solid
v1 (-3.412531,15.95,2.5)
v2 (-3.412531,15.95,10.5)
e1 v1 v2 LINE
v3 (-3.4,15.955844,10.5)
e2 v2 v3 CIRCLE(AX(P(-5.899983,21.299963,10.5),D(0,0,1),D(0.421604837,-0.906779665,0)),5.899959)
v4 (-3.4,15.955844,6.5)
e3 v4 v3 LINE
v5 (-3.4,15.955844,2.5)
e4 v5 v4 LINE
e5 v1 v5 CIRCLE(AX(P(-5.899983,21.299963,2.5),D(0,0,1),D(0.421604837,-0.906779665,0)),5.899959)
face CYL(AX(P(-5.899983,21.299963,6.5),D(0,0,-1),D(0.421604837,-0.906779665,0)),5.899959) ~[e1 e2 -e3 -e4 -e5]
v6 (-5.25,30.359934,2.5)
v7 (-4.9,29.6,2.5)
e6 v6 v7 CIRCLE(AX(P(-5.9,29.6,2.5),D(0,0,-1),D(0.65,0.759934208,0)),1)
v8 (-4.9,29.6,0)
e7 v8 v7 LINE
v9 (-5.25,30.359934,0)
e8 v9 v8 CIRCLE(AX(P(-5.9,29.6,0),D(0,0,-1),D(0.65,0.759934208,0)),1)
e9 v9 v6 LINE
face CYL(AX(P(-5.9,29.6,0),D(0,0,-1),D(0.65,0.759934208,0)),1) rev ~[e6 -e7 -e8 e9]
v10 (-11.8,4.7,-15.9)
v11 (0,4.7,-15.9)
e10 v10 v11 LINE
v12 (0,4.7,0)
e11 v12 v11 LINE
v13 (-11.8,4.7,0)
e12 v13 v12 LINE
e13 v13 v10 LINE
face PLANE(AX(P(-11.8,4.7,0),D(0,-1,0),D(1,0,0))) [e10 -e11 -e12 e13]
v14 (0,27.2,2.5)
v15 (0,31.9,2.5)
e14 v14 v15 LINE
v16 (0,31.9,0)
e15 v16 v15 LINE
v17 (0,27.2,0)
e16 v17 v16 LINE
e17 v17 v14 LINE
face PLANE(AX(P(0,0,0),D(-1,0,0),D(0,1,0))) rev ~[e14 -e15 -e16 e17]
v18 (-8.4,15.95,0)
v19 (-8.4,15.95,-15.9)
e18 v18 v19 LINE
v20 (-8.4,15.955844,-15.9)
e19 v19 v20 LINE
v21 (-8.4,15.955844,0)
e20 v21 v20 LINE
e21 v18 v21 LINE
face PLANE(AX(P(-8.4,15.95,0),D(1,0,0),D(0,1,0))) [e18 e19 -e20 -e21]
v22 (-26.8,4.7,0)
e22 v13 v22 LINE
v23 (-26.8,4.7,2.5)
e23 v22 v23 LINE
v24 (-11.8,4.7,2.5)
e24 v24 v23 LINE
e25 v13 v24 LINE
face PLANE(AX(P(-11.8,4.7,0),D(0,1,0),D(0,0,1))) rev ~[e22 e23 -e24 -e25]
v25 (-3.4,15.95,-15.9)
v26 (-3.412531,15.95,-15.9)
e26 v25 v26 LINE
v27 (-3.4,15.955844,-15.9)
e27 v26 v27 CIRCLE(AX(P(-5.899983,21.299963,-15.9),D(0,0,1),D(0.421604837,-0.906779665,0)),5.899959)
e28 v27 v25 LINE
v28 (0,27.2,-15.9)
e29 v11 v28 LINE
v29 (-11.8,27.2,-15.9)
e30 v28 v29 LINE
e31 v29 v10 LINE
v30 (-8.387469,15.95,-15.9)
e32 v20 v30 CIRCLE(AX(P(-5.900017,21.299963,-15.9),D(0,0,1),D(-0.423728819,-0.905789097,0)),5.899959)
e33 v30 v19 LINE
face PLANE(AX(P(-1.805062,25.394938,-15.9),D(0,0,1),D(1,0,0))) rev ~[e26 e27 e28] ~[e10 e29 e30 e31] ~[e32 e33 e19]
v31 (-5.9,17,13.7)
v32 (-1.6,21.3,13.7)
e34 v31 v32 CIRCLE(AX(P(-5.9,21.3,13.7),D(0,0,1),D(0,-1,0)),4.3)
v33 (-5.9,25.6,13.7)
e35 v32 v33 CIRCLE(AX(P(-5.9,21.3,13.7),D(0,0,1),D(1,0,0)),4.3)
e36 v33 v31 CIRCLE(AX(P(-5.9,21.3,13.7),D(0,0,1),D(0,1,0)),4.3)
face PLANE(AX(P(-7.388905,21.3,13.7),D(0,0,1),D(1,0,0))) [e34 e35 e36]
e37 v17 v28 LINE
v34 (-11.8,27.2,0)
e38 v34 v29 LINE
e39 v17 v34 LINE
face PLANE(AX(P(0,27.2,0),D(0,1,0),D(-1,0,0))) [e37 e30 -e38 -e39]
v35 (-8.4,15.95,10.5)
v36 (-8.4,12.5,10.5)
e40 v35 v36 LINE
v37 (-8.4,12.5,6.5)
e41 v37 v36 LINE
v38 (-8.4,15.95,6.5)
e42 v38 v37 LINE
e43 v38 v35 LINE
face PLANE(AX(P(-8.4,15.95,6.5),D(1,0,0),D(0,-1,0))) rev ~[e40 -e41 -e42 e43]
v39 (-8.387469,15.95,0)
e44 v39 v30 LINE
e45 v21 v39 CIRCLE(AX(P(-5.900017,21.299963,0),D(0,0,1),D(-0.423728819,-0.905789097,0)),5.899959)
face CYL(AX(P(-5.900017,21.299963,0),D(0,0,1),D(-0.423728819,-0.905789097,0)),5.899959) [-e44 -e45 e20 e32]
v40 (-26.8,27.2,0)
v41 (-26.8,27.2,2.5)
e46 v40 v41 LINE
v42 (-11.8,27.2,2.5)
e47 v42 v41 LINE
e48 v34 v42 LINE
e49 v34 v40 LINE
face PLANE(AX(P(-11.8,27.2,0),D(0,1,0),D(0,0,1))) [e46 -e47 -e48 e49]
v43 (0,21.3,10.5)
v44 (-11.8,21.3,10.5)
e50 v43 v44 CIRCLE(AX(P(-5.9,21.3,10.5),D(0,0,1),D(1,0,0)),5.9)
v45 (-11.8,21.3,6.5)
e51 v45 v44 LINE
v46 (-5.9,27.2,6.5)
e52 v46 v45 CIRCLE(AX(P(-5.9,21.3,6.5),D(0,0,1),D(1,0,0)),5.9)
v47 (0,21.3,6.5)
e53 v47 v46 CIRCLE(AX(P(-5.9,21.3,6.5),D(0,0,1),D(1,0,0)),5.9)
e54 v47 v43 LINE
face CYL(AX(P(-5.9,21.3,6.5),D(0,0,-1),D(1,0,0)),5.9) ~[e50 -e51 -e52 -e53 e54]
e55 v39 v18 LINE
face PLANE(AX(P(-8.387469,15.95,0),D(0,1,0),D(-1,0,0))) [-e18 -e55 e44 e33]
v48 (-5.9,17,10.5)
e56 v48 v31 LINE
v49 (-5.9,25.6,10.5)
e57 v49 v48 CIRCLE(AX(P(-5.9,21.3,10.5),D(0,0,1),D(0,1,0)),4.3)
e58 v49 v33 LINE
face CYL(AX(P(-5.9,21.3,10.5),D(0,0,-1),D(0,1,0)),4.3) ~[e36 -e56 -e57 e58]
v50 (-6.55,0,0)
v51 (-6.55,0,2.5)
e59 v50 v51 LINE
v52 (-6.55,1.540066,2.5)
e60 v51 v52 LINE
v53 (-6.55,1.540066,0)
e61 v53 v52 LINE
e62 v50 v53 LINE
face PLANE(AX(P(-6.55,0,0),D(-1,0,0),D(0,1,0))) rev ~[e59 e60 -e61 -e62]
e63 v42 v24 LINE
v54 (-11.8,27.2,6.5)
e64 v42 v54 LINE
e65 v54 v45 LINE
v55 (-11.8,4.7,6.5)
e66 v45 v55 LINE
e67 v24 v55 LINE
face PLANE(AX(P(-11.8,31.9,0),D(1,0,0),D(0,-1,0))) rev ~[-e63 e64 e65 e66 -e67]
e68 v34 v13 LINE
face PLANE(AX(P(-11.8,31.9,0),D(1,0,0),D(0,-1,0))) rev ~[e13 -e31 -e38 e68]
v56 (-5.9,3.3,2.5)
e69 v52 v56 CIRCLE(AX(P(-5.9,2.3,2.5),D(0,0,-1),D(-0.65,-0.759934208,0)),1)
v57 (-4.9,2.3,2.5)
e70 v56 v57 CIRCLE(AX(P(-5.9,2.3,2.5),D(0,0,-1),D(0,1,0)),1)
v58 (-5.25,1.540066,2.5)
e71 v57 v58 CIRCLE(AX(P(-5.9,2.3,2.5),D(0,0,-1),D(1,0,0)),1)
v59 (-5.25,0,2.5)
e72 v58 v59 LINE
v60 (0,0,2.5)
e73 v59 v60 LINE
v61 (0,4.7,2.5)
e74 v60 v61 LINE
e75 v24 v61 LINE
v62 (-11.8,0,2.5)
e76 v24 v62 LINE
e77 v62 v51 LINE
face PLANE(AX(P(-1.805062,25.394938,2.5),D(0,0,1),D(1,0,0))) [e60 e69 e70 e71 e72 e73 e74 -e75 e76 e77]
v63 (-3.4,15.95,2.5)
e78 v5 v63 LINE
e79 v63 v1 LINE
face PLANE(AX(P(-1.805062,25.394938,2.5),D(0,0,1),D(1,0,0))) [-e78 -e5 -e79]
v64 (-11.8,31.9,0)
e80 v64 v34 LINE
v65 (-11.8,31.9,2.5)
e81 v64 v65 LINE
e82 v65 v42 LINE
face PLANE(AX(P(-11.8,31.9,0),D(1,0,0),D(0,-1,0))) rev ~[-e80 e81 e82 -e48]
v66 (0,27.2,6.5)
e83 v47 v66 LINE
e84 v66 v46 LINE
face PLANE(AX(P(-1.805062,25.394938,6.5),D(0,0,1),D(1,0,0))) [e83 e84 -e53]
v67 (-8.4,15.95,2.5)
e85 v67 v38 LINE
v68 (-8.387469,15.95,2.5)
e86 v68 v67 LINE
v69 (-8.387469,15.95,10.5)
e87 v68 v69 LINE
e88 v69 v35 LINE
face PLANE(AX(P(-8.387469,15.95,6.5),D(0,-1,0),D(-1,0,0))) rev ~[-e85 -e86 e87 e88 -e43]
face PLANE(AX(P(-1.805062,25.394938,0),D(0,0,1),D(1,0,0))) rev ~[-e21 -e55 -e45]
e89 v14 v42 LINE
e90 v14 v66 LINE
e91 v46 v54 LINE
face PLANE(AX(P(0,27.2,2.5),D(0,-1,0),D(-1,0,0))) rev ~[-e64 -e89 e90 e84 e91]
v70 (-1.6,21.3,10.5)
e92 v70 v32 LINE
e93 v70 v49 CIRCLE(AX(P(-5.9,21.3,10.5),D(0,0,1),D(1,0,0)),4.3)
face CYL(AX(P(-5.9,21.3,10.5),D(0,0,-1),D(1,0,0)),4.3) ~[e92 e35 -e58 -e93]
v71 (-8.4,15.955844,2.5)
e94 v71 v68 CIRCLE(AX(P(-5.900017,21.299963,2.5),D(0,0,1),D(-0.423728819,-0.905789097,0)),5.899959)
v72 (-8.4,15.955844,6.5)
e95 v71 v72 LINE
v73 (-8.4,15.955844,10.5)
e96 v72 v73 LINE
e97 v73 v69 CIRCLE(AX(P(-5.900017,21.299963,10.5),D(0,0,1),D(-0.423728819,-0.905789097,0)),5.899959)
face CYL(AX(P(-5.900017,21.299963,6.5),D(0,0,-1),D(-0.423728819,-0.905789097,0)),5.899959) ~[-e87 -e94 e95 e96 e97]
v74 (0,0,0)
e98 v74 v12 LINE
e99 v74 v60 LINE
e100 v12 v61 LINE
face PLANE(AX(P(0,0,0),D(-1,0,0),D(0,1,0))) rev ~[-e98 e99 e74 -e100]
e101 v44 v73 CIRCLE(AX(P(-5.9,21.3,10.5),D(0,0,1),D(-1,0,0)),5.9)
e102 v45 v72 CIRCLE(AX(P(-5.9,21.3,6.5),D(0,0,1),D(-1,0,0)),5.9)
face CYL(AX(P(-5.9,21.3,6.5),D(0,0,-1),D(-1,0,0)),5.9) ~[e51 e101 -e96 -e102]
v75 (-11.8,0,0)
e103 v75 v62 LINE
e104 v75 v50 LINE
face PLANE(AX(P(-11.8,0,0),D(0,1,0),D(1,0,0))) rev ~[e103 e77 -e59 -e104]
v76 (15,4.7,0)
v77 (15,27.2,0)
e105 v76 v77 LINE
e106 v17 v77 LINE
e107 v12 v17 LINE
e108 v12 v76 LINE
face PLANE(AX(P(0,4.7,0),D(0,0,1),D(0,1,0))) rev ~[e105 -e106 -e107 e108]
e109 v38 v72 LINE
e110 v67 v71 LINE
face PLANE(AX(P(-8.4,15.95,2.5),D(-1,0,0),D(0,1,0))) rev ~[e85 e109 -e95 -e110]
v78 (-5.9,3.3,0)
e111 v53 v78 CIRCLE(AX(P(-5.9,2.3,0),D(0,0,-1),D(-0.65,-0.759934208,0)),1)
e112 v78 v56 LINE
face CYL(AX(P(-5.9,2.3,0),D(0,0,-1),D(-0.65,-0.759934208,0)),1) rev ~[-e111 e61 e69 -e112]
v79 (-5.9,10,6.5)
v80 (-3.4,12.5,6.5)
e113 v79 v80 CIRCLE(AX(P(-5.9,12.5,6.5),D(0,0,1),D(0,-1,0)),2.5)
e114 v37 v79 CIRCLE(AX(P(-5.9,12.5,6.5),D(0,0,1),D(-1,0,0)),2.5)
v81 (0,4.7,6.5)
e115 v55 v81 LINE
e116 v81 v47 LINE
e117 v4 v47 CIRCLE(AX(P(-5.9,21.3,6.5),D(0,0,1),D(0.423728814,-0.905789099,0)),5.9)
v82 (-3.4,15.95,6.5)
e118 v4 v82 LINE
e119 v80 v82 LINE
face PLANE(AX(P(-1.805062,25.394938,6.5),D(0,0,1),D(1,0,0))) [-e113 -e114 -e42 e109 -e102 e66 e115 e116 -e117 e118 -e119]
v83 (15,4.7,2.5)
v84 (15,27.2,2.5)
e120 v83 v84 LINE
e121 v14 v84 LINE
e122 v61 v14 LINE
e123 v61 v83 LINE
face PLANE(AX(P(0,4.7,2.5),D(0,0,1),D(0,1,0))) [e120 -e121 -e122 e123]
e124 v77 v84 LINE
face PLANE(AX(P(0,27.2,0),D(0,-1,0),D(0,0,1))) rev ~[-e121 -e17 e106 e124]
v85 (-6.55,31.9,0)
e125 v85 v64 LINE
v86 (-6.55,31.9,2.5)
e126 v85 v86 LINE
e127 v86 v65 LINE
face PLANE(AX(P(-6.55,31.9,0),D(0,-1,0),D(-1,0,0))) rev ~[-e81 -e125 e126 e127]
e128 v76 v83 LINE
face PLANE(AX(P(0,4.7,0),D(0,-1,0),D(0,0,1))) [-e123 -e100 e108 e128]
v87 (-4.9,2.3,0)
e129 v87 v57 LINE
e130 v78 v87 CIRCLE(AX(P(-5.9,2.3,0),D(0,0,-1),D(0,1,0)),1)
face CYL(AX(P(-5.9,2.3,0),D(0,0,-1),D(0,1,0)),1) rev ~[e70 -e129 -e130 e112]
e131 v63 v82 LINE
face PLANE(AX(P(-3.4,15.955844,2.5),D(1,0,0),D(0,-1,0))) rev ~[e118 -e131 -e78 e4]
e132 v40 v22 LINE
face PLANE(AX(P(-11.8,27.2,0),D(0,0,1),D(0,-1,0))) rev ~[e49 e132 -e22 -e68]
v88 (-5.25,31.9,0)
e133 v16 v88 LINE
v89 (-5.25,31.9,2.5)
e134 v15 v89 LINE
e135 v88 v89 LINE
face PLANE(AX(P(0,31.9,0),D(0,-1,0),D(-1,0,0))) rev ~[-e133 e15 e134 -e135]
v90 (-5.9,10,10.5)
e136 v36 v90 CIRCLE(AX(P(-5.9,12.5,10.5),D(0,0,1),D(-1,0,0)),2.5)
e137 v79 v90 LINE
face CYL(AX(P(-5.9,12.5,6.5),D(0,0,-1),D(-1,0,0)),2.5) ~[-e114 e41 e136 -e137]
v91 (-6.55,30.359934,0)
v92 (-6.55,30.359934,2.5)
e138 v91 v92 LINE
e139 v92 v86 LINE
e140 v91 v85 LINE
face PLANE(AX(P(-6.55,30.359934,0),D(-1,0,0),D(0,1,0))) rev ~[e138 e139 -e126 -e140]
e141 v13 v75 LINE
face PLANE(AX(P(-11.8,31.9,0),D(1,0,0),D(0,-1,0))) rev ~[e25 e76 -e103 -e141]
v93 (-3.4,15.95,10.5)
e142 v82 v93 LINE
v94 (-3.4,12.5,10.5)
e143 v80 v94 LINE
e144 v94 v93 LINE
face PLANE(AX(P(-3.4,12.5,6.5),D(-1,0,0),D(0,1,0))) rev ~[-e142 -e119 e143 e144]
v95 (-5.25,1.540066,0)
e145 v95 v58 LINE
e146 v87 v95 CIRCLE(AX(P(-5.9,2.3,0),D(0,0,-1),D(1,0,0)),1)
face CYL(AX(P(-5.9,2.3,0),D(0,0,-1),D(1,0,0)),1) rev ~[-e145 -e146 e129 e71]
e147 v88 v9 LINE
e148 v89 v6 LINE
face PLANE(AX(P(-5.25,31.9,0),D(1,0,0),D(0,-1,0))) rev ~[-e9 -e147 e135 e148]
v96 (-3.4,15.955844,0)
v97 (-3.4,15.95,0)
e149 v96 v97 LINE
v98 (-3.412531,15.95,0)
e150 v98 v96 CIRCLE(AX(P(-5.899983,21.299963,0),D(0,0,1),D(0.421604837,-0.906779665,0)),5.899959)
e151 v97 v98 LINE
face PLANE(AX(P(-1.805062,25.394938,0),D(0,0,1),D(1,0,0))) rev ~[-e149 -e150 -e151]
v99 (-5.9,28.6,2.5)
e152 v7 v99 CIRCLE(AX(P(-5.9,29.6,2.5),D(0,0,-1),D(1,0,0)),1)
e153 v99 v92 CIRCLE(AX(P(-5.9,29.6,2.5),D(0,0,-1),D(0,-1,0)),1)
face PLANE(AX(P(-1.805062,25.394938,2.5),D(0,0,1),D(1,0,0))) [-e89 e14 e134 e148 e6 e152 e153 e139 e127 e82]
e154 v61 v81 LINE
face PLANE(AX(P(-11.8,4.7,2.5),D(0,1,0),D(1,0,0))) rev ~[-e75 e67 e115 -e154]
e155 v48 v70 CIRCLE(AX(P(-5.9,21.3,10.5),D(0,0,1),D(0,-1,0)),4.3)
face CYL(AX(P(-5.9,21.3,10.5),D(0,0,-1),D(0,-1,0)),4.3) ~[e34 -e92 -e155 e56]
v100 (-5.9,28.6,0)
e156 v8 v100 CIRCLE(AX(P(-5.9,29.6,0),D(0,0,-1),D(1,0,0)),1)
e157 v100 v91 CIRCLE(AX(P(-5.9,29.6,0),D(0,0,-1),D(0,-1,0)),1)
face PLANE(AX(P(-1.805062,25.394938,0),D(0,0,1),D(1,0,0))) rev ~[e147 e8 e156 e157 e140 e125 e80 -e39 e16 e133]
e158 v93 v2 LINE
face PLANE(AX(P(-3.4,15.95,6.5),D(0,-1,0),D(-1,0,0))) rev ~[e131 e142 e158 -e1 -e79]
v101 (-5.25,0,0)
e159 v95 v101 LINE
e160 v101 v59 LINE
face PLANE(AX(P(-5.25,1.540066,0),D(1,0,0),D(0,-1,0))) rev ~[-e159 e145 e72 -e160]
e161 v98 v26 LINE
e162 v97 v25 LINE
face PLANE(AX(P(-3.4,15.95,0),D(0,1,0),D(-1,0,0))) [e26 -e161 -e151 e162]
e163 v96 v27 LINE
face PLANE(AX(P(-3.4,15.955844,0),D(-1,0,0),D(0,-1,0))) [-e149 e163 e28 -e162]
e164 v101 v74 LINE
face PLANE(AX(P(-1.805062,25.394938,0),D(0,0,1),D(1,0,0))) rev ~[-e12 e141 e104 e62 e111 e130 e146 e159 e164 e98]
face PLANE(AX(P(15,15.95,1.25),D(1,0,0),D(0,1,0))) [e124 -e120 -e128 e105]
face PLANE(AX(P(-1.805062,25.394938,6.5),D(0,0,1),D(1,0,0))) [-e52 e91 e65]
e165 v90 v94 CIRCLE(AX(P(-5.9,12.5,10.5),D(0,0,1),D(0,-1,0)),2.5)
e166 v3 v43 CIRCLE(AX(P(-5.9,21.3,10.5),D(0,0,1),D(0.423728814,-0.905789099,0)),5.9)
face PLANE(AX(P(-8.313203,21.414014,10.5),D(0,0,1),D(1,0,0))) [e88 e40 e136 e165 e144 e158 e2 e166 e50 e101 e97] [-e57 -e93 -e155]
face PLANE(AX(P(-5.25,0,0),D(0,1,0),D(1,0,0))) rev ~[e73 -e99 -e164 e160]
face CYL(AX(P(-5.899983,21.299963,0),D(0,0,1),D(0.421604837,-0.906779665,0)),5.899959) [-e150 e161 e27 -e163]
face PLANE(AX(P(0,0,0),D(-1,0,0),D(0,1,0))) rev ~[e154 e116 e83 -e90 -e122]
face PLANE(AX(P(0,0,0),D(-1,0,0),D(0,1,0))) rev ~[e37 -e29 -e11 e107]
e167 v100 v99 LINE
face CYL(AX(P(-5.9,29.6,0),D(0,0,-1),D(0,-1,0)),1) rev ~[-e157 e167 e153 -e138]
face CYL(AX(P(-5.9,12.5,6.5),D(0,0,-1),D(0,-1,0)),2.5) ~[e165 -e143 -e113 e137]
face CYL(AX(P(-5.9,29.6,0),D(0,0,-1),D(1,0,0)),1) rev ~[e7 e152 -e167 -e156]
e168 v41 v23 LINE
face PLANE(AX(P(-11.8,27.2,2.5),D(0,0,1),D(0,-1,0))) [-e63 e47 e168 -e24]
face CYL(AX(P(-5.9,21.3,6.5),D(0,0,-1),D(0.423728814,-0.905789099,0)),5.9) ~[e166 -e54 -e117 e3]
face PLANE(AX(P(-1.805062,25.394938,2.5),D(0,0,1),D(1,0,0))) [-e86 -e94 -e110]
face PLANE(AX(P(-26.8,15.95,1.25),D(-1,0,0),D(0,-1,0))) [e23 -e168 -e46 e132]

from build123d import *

# Parameters (mm, degrees)
F1_DEPTH  = 15.9
F2_DEPTH  = 2.5
F5_DEPTH  = 4
F8_DEPTH  = 4
F11_DEPTH = 3.2
F12_W     = 22.5
F12_H     = 2.5
F13_DEPTH = 15
F14_W     = 22.5
F14_H     = 2.5
F15_DEPTH = 15


with BuildPart() as f1:
    # F0 (on Top) → F1 (new body)
    with BuildSketch(Plane.XY):
        with BuildLine():
            ThreePointArc((-5.9, 27.2), (-1.728069991, 25.471930009), (0, 21.3))
            Line((0, 21.3), (0, 27.2))
            Line((0, 27.2), (-5.9, 27.2))
        make_face()
        with BuildLine():
            ThreePointArc((-11.8, 21.3), (-10.071930009, 25.471930009), (-5.9, 27.2))
            Line((-5.9, 27.2), (-11.8, 27.2))
            Line((-11.8, 27.2), (-11.8, 21.3))
        make_face()
        with BuildLine():
            Line((-3.4, 15.95), (0, 15.95))
            Line((0, 15.95), (0, 21.3))
            ThreePointArc((0, 21.3), (-0.9220486141, 18.1329824756), (-3.4, 15.9558443136))
            Line((-3.4, 15.9558443136), (-3.4, 15.95))
        make_face()
        with BuildLine():
            Line((-11.8, 21.3), (-11.8, 15.95))
            Line((-11.8, 15.95), (-8.4, 15.95))
            Line((-8.4, 15.95), (-8.4, 15.9558443136))
            ThreePointArc((-8.4, 15.9558443136), (-10.8779513859, 18.1329824756), (-11.8, 21.3))
        make_face()
        with BuildLine():
            Line((-5.9, 4.7), (0, 4.7))
            Line((0, 4.7), (0, 15.95))
            Line((0, 15.95), (-3.4, 15.95))
            Line((-3.4, 15.95), (-3.4, 12.5))
            ThreePointArc((-3.4, 12.5), (-4.132233047, 10.732233047), (-5.9, 10))
            Line((-5.9, 10), (-5.9, 4.7))
        make_face()
        with BuildLine():
            Line((-11.8, 4.7), (-5.9, 4.7))
            Line((-5.9, 4.7), (-5.9, 10))
            ThreePointArc((-5.9, 10), (-7.667766953, 10.732233047), (-8.4, 12.5))
            Line((-8.4, 12.5), (-8.4, 15.95))
            Line((-8.4, 15.95), (-11.8, 15.95))
            Line((-11.8, 15.95), (-11.8, 4.7))
        make_face()
        with BuildLine():
            ThreePointArc((-3.4, 15.9558443136), (-0.9220486141, 18.1329824756), (0, 21.3))
            ThreePointArc((0, 21.3), (-1.728069991, 25.471930009), (-5.9, 27.2))
            Line((-5.9, 27.2), (-5.9, 23.6))
            ThreePointArc((-5.9, 23.6), (-4.2736544033, 22.9263455967), (-3.6, 21.3))
            ThreePointArc((-3.6, 21.3), (-4.2736544033, 19.6736544033), (-5.9, 19))
            Line((-5.9, 19), (-5.9, 15.95))
            Line((-5.9, 15.95), (-3.4125314072, 15.95))
            ThreePointArc((-3.4125314072, 15.95), (-3.4062639915, 15.9529184857), (-3.4, 15.9558443136))
        make_face()
        with BuildLine():
            ThreePointArc((-3.6, 21.3), (-4.2736544033, 22.9263455967), (-5.9, 23.6))
            Line((-5.9, 23.6), (-5.9, 22.15))
            ThreePointArc((-5.9, 22.15), (-5.298959236, 21.901040764), (-5.05, 21.3))
            ThreePointArc((-5.05, 21.3), (-5.298959236, 20.698959236), (-5.9, 20.45))
            Line((-5.9, 20.45), (-5.9, 19))
            ThreePointArc((-5.9, 19), (-4.2736544033, 19.6736544033), (-3.6, 21.3))
        make_face()
        with BuildLine():
            Line((-5.9, 22.15), (-5.9, 23.6))
            ThreePointArc((-5.9, 23.6), (-8.2, 21.3), (-5.9, 19))
            Line((-5.9, 19), (-5.9, 20.45))
            ThreePointArc((-5.9, 20.45), (-6.75, 21.3), (-5.9, 22.15))
        make_face()
        with BuildLine():
            ThreePointArc((-5.05, 21.3), (-5.298959236, 21.901040764), (-5.9, 22.15))
            Line((-5.9, 22.15), (-5.9, 20.45))
            ThreePointArc((-5.9, 20.45), (-5.298959236, 20.698959236), (-5.05, 21.3))
        make_face()
        with BuildLine():
            Line((-5.9, 20.45), (-5.9, 22.15))
            ThreePointArc((-5.9, 22.15), (-6.75, 21.3), (-5.9, 20.45))
        make_face()
        with BuildLine():
            ThreePointArc((-8.4, 12.5), (-7.667766953, 10.732233047), (-5.9, 10))
            Line((-5.9, 10), (-5.9, 15))
            ThreePointArc((-5.9, 15), (-7.667766953, 14.267766953), (-8.4, 12.5))
        make_face()
        with BuildLine():
            Line((-5.9, 15), (-5.9, 10))
            ThreePointArc((-5.9, 10), (-4.132233047, 10.732233047), (-3.4, 12.5))
            ThreePointArc((-3.4, 12.5), (-4.132233047, 14.267766953), (-5.9, 15))
        make_face()
        with BuildLine():
            Line((-3.4, 12.5), (-3.4, 15.95))
            Line((-3.4, 15.95), (-3.4125314072, 15.95))
            ThreePointArc((-3.4125314072, 15.95), (-4.6262260797, 15.5391406891), (-5.9, 15.4))
            Line((-5.9, 15.4), (-5.9, 15))
            ThreePointArc((-5.9, 15), (-4.132233047, 14.267766953), (-3.4, 12.5))
        make_face()
        with BuildLine():
            ThreePointArc((-5.9, 15.4), (-4.6262260797, 15.5391406891), (-3.4125314072, 15.95))
            Line((-3.4125314072, 15.95), (-5.9, 15.95))
            Line((-5.9, 15.95), (-5.9, 15.4))
        make_face()
        with BuildLine():
            ThreePointArc((-8.4, 12.5), (-7.667766953, 14.267766953), (-5.9, 15))
            Line((-5.9, 15), (-5.9, 15.4))
            ThreePointArc((-5.9, 15.4), (-7.1737739203, 15.5391406891), (-8.3874685928, 15.95))
            Line((-8.3874685928, 15.95), (-8.4, 15.95))
            Line((-8.4, 15.95), (-8.4, 12.5))
        make_face()
        with BuildLine():
            Line((-5.9, 23.6), (-5.9, 27.2))
            ThreePointArc((-5.9, 27.2), (-10.071930009, 25.471930009), (-11.8, 21.3))
            ThreePointArc((-11.8, 21.3), (-10.8779513859, 18.1329824756), (-8.4, 15.9558443136))
            ThreePointArc((-8.4, 15.9558443136), (-8.3937360085, 15.9529184857), (-8.3874685928, 15.95))
            Line((-8.3874685928, 15.95), (-5.9, 15.95))
            Line((-5.9, 15.95), (-5.9, 19))
            ThreePointArc((-5.9, 19), (-8.2, 21.3), (-5.9, 23.6))
        make_face()
        with BuildLine():
            ThreePointArc((-8.3874685928, 15.95), (-7.1737739203, 15.5391406891), (-5.9, 15.4))
            Line((-5.9, 15.4), (-5.9, 15.95))
            Line((-5.9, 15.95), (-8.3874685928, 15.95))
        make_face()
    extrude(amount=-F1_DEPTH)

    # F0 (on Top) → F2 (join)
    with BuildSketch(Plane.XY):
        with BuildLine():
            ThreePointArc((-5.9, 27.2), (-1.728069991, 25.471930009), (0, 21.3))
            Line((0, 21.3), (0, 27.2))
            Line((0, 27.2), (-5.9, 27.2))
        make_face()
        with BuildLine():
            ThreePointArc((-11.8, 21.3), (-10.071930009, 25.471930009), (-5.9, 27.2))
            Line((-5.9, 27.2), (-11.8, 27.2))
            Line((-11.8, 27.2), (-11.8, 21.3))
        make_face()
        with BuildLine():
            Line((-3.4, 15.95), (0, 15.95))
            Line((0, 15.95), (0, 21.3))
            ThreePointArc((0, 21.3), (-0.9220486141, 18.1329824756), (-3.4, 15.9558443136))
            Line((-3.4, 15.9558443136), (-3.4, 15.95))
        make_face()
        with BuildLine():
            Line((-11.8, 21.3), (-11.8, 15.95))
            Line((-11.8, 15.95), (-8.4, 15.95))
            Line((-8.4, 15.95), (-8.4, 15.9558443136))
            ThreePointArc((-8.4, 15.9558443136), (-10.8779513859, 18.1329824756), (-11.8, 21.3))
        make_face()
        with BuildLine():
            Line((-5.25, 0), (0, 0))
            Line((0, 0), (0, 4.7))
            Line((0, 4.7), (-5.9, 4.7))
            Line((-5.9, 4.7), (-5.9, 3.3))
            ThreePointArc((-5.9, 3.3), (-5.1928932188, 3.0071067812), (-4.9, 2.3))
            ThreePointArc((-4.9, 2.3), (-4.9917048938, 1.8816699867), (-5.25, 1.5400657923))
            Line((-5.25, 1.5400657923), (-5.25, 0))
        make_face()
        with BuildLine():
            Line((-5.9, 3.3), (-5.9, 4.7))
            Line((-5.9, 4.7), (-11.8, 4.7))
            Line((-11.8, 4.7), (-11.8, 0))
            Line((-11.8, 0), (-6.55, 0))
            Line((-6.55, 0), (-6.55, 1.5400657923))
            ThreePointArc((-6.55, 1.5400657923), (-6.8380656181, 2.6464576398), (-5.9, 3.3))
        make_face()
        with BuildLine():
            Line((-5.9, 27.2), (0, 27.2))
            Line((0, 27.2), (0, 31.9))
            Line((0, 31.9), (-5.25, 31.9))
            Line((-5.25, 31.9), (-5.25, 30.3599342077))
            ThreePointArc((-5.25, 30.3599342077), (-4.9917048938, 30.0183300133), (-4.9, 29.6))
            ThreePointArc((-4.9, 29.6), (-5.1928932188, 28.8928932188), (-5.9, 28.6))
            Line((-5.9, 28.6), (-5.9, 27.2))
        make_face()
        with BuildLine():
            Line((-11.8, 27.2), (-5.9, 27.2))
            Line((-5.9, 27.2), (-5.9, 28.6))
            ThreePointArc((-5.9, 28.6), (-6.8380656181, 29.2535423602), (-6.55, 30.3599342077))
            Line((-6.55, 30.3599342077), (-6.55, 31.9))
            Line((-6.55, 31.9), (-11.8, 31.9))
            Line((-11.8, 31.9), (-11.8, 27.2))
        make_face()
        with BuildLine():
            Line((-5.9, 4.7), (0, 4.7))
            Line((0, 4.7), (0, 15.95))
            Line((0, 15.95), (-3.4, 15.95))
            Line((-3.4, 15.95), (-3.4, 12.5))
            ThreePointArc((-3.4, 12.5), (-4.132233047, 10.732233047), (-5.9, 10))
            Line((-5.9, 10), (-5.9, 4.7))
        make_face()
        with BuildLine():
            Line((-11.8, 4.7), (-5.9, 4.7))
            Line((-5.9, 4.7), (-5.9, 10))
            ThreePointArc((-5.9, 10), (-7.667766953, 10.732233047), (-8.4, 12.5))
            Line((-8.4, 12.5), (-8.4, 15.95))
            Line((-8.4, 15.95), (-11.8, 15.95))
            Line((-11.8, 15.95), (-11.8, 4.7))
        make_face()
        with BuildLine():
            ThreePointArc((-3.4, 15.9558443136), (-0.9220486141, 18.1329824756), (0, 21.3))
            ThreePointArc((0, 21.3), (-1.728069991, 25.471930009), (-5.9, 27.2))
            Line((-5.9, 27.2), (-5.9, 23.6))
            ThreePointArc((-5.9, 23.6), (-4.2736544033, 22.9263455967), (-3.6, 21.3))
            ThreePointArc((-3.6, 21.3), (-4.2736544033, 19.6736544033), (-5.9, 19))
            Line((-5.9, 19), (-5.9, 15.95))
            Line((-5.9, 15.95), (-3.4125314072, 15.95))
            ThreePointArc((-3.4125314072, 15.95), (-3.4062639915, 15.9529184857), (-3.4, 15.9558443136))
        make_face()
        with BuildLine():
            Line((-5.9, 23.6), (-5.9, 27.2))
            ThreePointArc((-5.9, 27.2), (-10.071930009, 25.471930009), (-11.8, 21.3))
            ThreePointArc((-11.8, 21.3), (-10.8779513859, 18.1329824756), (-8.4, 15.9558443136))
            ThreePointArc((-8.4, 15.9558443136), (-8.3937360085, 15.9529184857), (-8.3874685928, 15.95))
            Line((-8.3874685928, 15.95), (-5.9, 15.95))
            Line((-5.9, 15.95), (-5.9, 19))
            ThreePointArc((-5.9, 19), (-8.2, 21.3), (-5.9, 23.6))
        make_face()
        with BuildLine():
            ThreePointArc((-5.9, 15.4), (-4.6262260797, 15.5391406891), (-3.4125314072, 15.95))
            Line((-3.4125314072, 15.95), (-5.9, 15.95))
            Line((-5.9, 15.95), (-5.9, 15.4))
        make_face()
        with BuildLine():
            ThreePointArc((-8.3874685928, 15.95), (-7.1737739203, 15.5391406891), (-5.9, 15.4))
            Line((-5.9, 15.4), (-5.9, 15.95))
            Line((-5.9, 15.95), (-8.3874685928, 15.95))
        make_face()
        with BuildLine():
            Line((-5.9, 15), (-5.9, 10))
            ThreePointArc((-5.9, 10), (-4.132233047, 10.732233047), (-3.4, 12.5))
            ThreePointArc((-3.4, 12.5), (-4.132233047, 14.267766953), (-5.9, 15))
        make_face()
        with BuildLine():
            Line((-5.9, 22.15), (-5.9, 23.6))
            ThreePointArc((-5.9, 23.6), (-8.2, 21.3), (-5.9, 19))
            Line((-5.9, 19), (-5.9, 20.45))
            ThreePointArc((-5.9, 20.45), (-6.75, 21.3), (-5.9, 22.15))
        make_face()
        with BuildLine():
            Line((-3.4, 12.5), (-3.4, 15.95))
            Line((-3.4, 15.95), (-3.4125314072, 15.95))
            ThreePointArc((-3.4125314072, 15.95), (-4.6262260797, 15.5391406891), (-5.9, 15.4))
            Line((-5.9, 15.4), (-5.9, 15))
            ThreePointArc((-5.9, 15), (-4.132233047, 14.267766953), (-3.4, 12.5))
        make_face()
        with BuildLine():
            ThreePointArc((-3.6, 21.3), (-4.2736544033, 22.9263455967), (-5.9, 23.6))
            Line((-5.9, 23.6), (-5.9, 22.15))
            ThreePointArc((-5.9, 22.15), (-5.298959236, 21.901040764), (-5.05, 21.3))
            ThreePointArc((-5.05, 21.3), (-5.298959236, 20.698959236), (-5.9, 20.45))
            Line((-5.9, 20.45), (-5.9, 19))
            ThreePointArc((-5.9, 19), (-4.2736544033, 19.6736544033), (-3.6, 21.3))
        make_face()
        with BuildLine():
            ThreePointArc((-8.4, 12.5), (-7.667766953, 10.732233047), (-5.9, 10))
            Line((-5.9, 10), (-5.9, 15))
            ThreePointArc((-5.9, 15), (-7.667766953, 14.267766953), (-8.4, 12.5))
        make_face()
        with BuildLine():
            ThreePointArc((-8.4, 12.5), (-7.667766953, 14.267766953), (-5.9, 15))
            Line((-5.9, 15), (-5.9, 15.4))
            ThreePointArc((-5.9, 15.4), (-7.1737739203, 15.5391406891), (-8.3874685928, 15.95))
            Line((-8.3874685928, 15.95), (-8.4, 15.95))
            Line((-8.4, 15.95), (-8.4, 12.5))
        make_face()
        with BuildLine():
            Line((-8.4, 15.9558443136), (-8.4, 15.95))
            Line((-8.4, 15.95), (-8.3874685928, 15.95))
            ThreePointArc((-8.3874685928, 15.95), (-8.3937360085, 15.9529184857), (-8.4, 15.9558443136))
        make_face()
        with BuildLine():
            Line((-3.4125314072, 15.95), (-3.4, 15.95))
            Line((-3.4, 15.95), (-3.4, 15.9558443136))
            ThreePointArc((-3.4, 15.9558443136), (-3.4062639915, 15.9529184857), (-3.4125314072, 15.95))
        make_face()
        with BuildLine():
            ThreePointArc((-5.05, 21.3), (-5.298959236, 21.901040764), (-5.9, 22.15))
            Line((-5.9, 22.15), (-5.9, 20.45))
            ThreePointArc((-5.9, 20.45), (-5.298959236, 20.698959236), (-5.05, 21.3))
        make_face()
        with BuildLine():
            Line((-5.9, 20.45), (-5.9, 22.15))
            ThreePointArc((-5.9, 22.15), (-6.75, 21.3), (-5.9, 20.45))
        make_face()
    extrude(amount=F2_DEPTH)

    # F4 (on face) → F5 (join)
    with BuildSketch(Plane.XY.offset(2.5)):
        with BuildLine():
            ThreePointArc((-5.9, 27.2), (-1.728069991, 25.471930009), (0, 21.3))
            Line((0, 21.3), (0, 27.2))
            Line((0, 27.2), (-5.9, 27.2))
        make_face()
        with BuildLine():
            ThreePointArc((-11.8, 21.3), (-10.071930009, 25.471930009), (-5.9, 27.2))
            Line((-5.9, 27.2), (-11.8, 27.2))
            Line((-11.8, 27.2), (-11.8, 21.3))
        make_face()
        with BuildLine():
            Line((-3.4, 15.95), (0, 15.95))
            Line((0, 15.95), (0, 21.3))
            ThreePointArc((0, 21.3), (-0.9220486141, 18.1329824756), (-3.4, 15.9558443136))
            Line((-3.4, 15.9558443136), (-3.4, 15.95))
        make_face()
        with BuildLine():
            Line((-11.8, 21.3), (-11.8, 15.95))
            Line((-11.8, 15.95), (-8.4, 15.95))
            Line((-8.4, 15.95), (-8.4, 15.9558443136))
            ThreePointArc((-8.4, 15.9558443136), (-10.8779513859, 18.1329824756), (-11.8, 21.3))
        make_face()
        with BuildLine():
            Line((-5.9, 4.7), (0, 4.7))
            Line((0, 4.7), (0, 15.95))
            Line((0, 15.95), (-3.4, 15.95))
            Line((-3.4, 15.95), (-3.4, 12.5))
            ThreePointArc((-3.4, 12.5), (-4.132233047, 10.732233047), (-5.9, 10))
            Line((-5.9, 10), (-5.9, 4.7))
        make_face()
        with BuildLine():
            Line((-11.8, 4.7), (-5.9, 4.7))
            Line((-5.9, 4.7), (-5.9, 10))
            ThreePointArc((-5.9, 10), (-7.667766953, 10.732233047), (-8.4, 12.5))
            Line((-8.4, 12.5), (-8.4, 15.95))
            Line((-8.4, 15.95), (-11.8, 15.95))
            Line((-11.8, 15.95), (-11.8, 4.7))
        make_face()
        with BuildLine():
            ThreePointArc((-3.4, 15.9558443136), (-0.9220486141, 18.1329824756), (0, 21.3))
            ThreePointArc((0, 21.3), (-1.728069991, 25.471930009), (-5.9, 27.2))
            Line((-5.9, 27.2), (-5.9, 23.6))
            ThreePointArc((-5.9, 23.6), (-4.2736544033, 22.9263455967), (-3.6, 21.3))
            ThreePointArc((-3.6, 21.3), (-4.2736544033, 19.6736544033), (-5.9, 19))
            Line((-5.9, 19), (-5.9, 15.95))
            Line((-5.9, 15.95), (-3.4125314072, 15.95))
            ThreePointArc((-3.4125314072, 15.95), (-3.4062639915, 15.9529184857), (-3.4, 15.9558443136))
        make_face()
        with BuildLine():
            Line((-5.9, 23.6), (-5.9, 27.2))
            ThreePointArc((-5.9, 27.2), (-10.071930009, 25.471930009), (-11.8, 21.3))
            ThreePointArc((-11.8, 21.3), (-10.8779513859, 18.1329824756), (-8.4, 15.9558443136))
            ThreePointArc((-8.4, 15.9558443136), (-8.3937360085, 15.9529184857), (-8.3874685928, 15.95))
            Line((-8.3874685928, 15.95), (-5.9, 15.95))
            Line((-5.9, 15.95), (-5.9, 19))
            ThreePointArc((-5.9, 19), (-8.2, 21.3), (-5.9, 23.6))
        make_face()
        with BuildLine():
            Line((-5.9, 15), (-5.9, 10))
            ThreePointArc((-5.9, 10), (-4.132233047, 10.732233047), (-3.4, 12.5))
            ThreePointArc((-3.4, 12.5), (-4.132233047, 14.267766953), (-5.9, 15))
        make_face()
        with BuildLine():
            ThreePointArc((-8.4, 12.5), (-7.667766953, 10.732233047), (-5.9, 10))
            Line((-5.9, 10), (-5.9, 15))
            ThreePointArc((-5.9, 15), (-7.667766953, 14.267766953), (-8.4, 12.5))
        make_face()
        with BuildLine():
            ThreePointArc((-8.4, 12.5), (-7.667766953, 14.267766953), (-5.9, 15))
            Line((-5.9, 15), (-5.9, 15.4))
            ThreePointArc((-5.9, 15.4), (-7.1737739203, 15.5391406891), (-8.3874685928, 15.95))
            Line((-8.3874685928, 15.95), (-8.4, 15.95))
            Line((-8.4, 15.95), (-8.4, 12.5))
        make_face()
        with BuildLine():
            Line((-3.4, 12.5), (-3.4, 15.95))
            Line((-3.4, 15.95), (-3.4125314072, 15.95))
            ThreePointArc((-3.4125314072, 15.95), (-4.6262260797, 15.5391406891), (-5.9, 15.4))
            Line((-5.9, 15.4), (-5.9, 15))
            ThreePointArc((-5.9, 15), (-4.132233047, 14.267766953), (-3.4, 12.5))
        make_face()
        with BuildLine():
            ThreePointArc((-5.9, 15.4), (-4.6262260797, 15.5391406891), (-3.4125314072, 15.95))
            Line((-3.4125314072, 15.95), (-5.9, 15.95))
            Line((-5.9, 15.95), (-5.9, 15.4))
        make_face()
        with BuildLine():
            ThreePointArc((-8.3874685928, 15.95), (-7.1737739203, 15.5391406891), (-5.9, 15.4))
            Line((-5.9, 15.4), (-5.9, 15.95))
            Line((-5.9, 15.95), (-8.3874685928, 15.95))
        make_face()
        with BuildLine():
            Line((-5.9, 22.25), (-5.9, 23.6))
            ThreePointArc((-5.9, 23.6), (-8.2, 21.3), (-5.9, 19))
            Line((-5.9, 19), (-5.9, 20.35))
            ThreePointArc((-5.9, 20.35), (-6.85, 21.3), (-5.9, 22.25))
        make_face()
        with BuildLine():
            ThreePointArc((-3.6, 21.3), (-4.2736544033, 22.9263455967), (-5.9, 23.6))
            Line((-5.9, 23.6), (-5.9, 22.25))
            ThreePointArc((-5.9, 22.25), (-5.2282485579, 21.9717514421), (-4.95, 21.3))
            ThreePointArc((-4.95, 21.3), (-5.2282485579, 20.6282485579), (-5.9, 20.35))
            Line((-5.9, 20.35), (-5.9, 19))
            ThreePointArc((-5.9, 19), (-4.2736544033, 19.6736544033), (-3.6, 21.3))
        make_face()
        with BuildLine():
            Line((-5.9, 20.35), (-5.9, 22.25))
            ThreePointArc((-5.9, 22.25), (-6.85, 21.3), (-5.9, 20.35))
        make_face()
        with BuildLine():
            ThreePointArc((-4.95, 21.3), (-5.2282485579, 21.9717514421), (-5.9, 22.25))
            Line((-5.9, 22.25), (-5.9, 20.35))
            ThreePointArc((-5.9, 20.35), (-5.2282485579, 20.6282485579), (-4.95, 21.3))
        make_face()
    extrude(amount=F5_DEPTH)

    # F7 (on face) → F8 (join)
    with BuildSketch(Plane.XY.offset(6.5)):
        with BuildLine():
            Line((-5.9, 23.6), (-5.9, 27.2))
            ThreePointArc((-5.9, 27.2), (-10.071930009, 25.471930009), (-11.8, 21.3))
            ThreePointArc((-11.8, 21.3), (-10.8779513859, 18.1329824756), (-8.4, 15.9558443136))
            ThreePointArc((-8.4, 15.9558443136), (-8.3937360085, 15.9529184857), (-8.3874685928, 15.95))
            Line((-8.3874685928, 15.95), (-5.9, 15.95))
            Line((-5.9, 15.95), (-5.9, 19))
            ThreePointArc((-5.9, 19), (-8.2, 21.3), (-5.9, 23.6))
        make_face()
        with BuildLine():
            ThreePointArc((-3.4, 15.9558443136), (-0.9220486141, 18.1329824756), (0, 21.3))
            ThreePointArc((0, 21.3), (-1.728069991, 25.471930009), (-5.9, 27.2))
            Line((-5.9, 27.2), (-5.9, 23.6))
            ThreePointArc((-5.9, 23.6), (-4.2736544033, 22.9263455967), (-3.6, 21.3))
            ThreePointArc((-3.6, 21.3), (-4.2736544033, 19.6736544033), (-5.9, 19))
            Line((-5.9, 19), (-5.9, 15.95))
            Line((-5.9, 15.95), (-3.4125314072, 15.95))
            ThreePointArc((-3.4125314072, 15.95), (-3.4062639915, 15.9529184857), (-3.4, 15.9558443136))
        make_face()
        with BuildLine():
            ThreePointArc((-8.3874685928, 15.95), (-7.1737739203, 15.5391406891), (-5.9, 15.4))
            Line((-5.9, 15.4), (-5.9, 15.95))
            Line((-5.9, 15.95), (-8.3874685928, 15.95))
        make_face()
        with BuildLine():
            ThreePointArc((-5.9, 15.4), (-4.6262260797, 15.5391406891), (-3.4125314072, 15.95))
            Line((-3.4125314072, 15.95), (-5.9, 15.95))
            Line((-5.9, 15.95), (-5.9, 15.4))
        make_face()
        with BuildLine():
            ThreePointArc((-8.4, 12.5), (-7.667766953, 14.267766953), (-5.9, 15))
            Line((-5.9, 15), (-5.9, 15.4))
            ThreePointArc((-5.9, 15.4), (-7.1737739203, 15.5391406891), (-8.3874685928, 15.95))
            Line((-8.3874685928, 15.95), (-8.4, 15.95))
            Line((-8.4, 15.95), (-8.4, 12.5))
        make_face()
        with BuildLine():
            Line((-3.4, 12.5), (-3.4, 15.95))
            Line((-3.4, 15.95), (-3.4125314072, 15.95))
            ThreePointArc((-3.4125314072, 15.95), (-4.6262260797, 15.5391406891), (-5.9, 15.4))
            Line((-5.9, 15.4), (-5.9, 15))
            ThreePointArc((-5.9, 15), (-4.132233047, 14.267766953), (-3.4, 12.5))
        make_face()
        with BuildLine():
            ThreePointArc((-8.4, 12.5), (-7.667766953, 10.732233047), (-5.9, 10))
            Line((-5.9, 10), (-5.9, 15))
            ThreePointArc((-5.9, 15), (-7.667766953, 14.267766953), (-8.4, 12.5))
        make_face()
        with BuildLine():
            Line((-5.9, 15), (-5.9, 10))
            ThreePointArc((-5.9, 10), (-4.132233047, 10.732233047), (-3.4, 12.5))
            ThreePointArc((-3.4, 12.5), (-4.132233047, 14.267766953), (-5.9, 15))
        make_face()
        with BuildLine():
            ThreePointArc((-3.6, 21.3), (-4.2736544033, 22.9263455967), (-5.9, 23.6))
            Line((-5.9, 23.6), (-5.9, 22.15))
            ThreePointArc((-5.9, 22.15), (-5.298959236, 21.901040764), (-5.05, 21.3))
            ThreePointArc((-5.05, 21.3), (-5.298959236, 20.698959236), (-5.9, 20.45))
            Line((-5.9, 20.45), (-5.9, 19))
            ThreePointArc((-5.9, 19), (-4.2736544033, 19.6736544033), (-3.6, 21.3))
        make_face()
        with BuildLine():
            Line((-5.9, 22.15), (-5.9, 23.6))
            ThreePointArc((-5.9, 23.6), (-8.2, 21.3), (-5.9, 19))
            Line((-5.9, 19), (-5.9, 20.45))
            ThreePointArc((-5.9, 20.45), (-6.75, 21.3), (-5.9, 22.15))
        make_face()
        with BuildLine():
            Line((-5.9, 20.45), (-5.9, 22.15))
            ThreePointArc((-5.9, 22.15), (-6.75, 21.3), (-5.9, 20.45))
        make_face()
        with BuildLine():
            ThreePointArc((-5.05, 21.3), (-5.298959236, 21.901040764), (-5.9, 22.15))
            Line((-5.9, 22.15), (-5.9, 20.45))
            ThreePointArc((-5.9, 20.45), (-5.298959236, 20.698959236), (-5.05, 21.3))
        make_face()
    extrude(amount=F8_DEPTH)

    # F10 (on offset) → F11 (join)
    with BuildSketch(Plane.XY.offset(10.5)):
        with BuildLine():
            Line((-5.9, 22.15), (-5.9, 25.6))
            ThreePointArc((-5.9, 25.6), (-10.2, 21.3), (-5.9, 17))
            Line((-5.9, 17), (-5.9, 20.45))
            ThreePointArc((-5.9, 20.45), (-6.75, 21.3), (-5.9, 22.15))
        make_face()
        with BuildLine():
            ThreePointArc((-1.6, 21.3), (-2.8594408409, 24.3405591591), (-5.9, 25.6))
            Line((-5.9, 25.6), (-5.9, 22.15))
            ThreePointArc((-5.9, 22.15), (-5.298959236, 21.901040764), (-5.05, 21.3))
            ThreePointArc((-5.05, 21.3), (-5.298959236, 20.698959236), (-5.9, 20.45))
            Line((-5.9, 20.45), (-5.9, 17))
            ThreePointArc((-5.9, 17), (-2.8594408409, 18.2594408409), (-1.6, 21.3))
        make_face()
        with BuildLine():
            ThreePointArc((-5.05, 21.3), (-5.298959236, 21.901040764), (-5.9, 22.15))
            Line((-5.9, 22.15), (-5.9, 20.45))
            ThreePointArc((-5.9, 20.45), (-5.298959236, 20.698959236), (-5.05, 21.3))
        make_face()
        with BuildLine():
            Line((-5.9, 20.45), (-5.9, 22.15))
            ThreePointArc((-5.9, 22.15), (-6.75, 21.3), (-5.9, 20.45))
        make_face()
    extrude(amount=F11_DEPTH)

    # F12 (on face) → F13 (join)
    with BuildSketch(Plane.YZ):
        with Locations((15.95, 1.25)):
            Rectangle(F12_W, F12_H)
    extrude(amount=F13_DEPTH)

    # F14 (on face) → F15 (join)
    with BuildSketch(Plane(origin=(-11.8, 0, 0), x_dir=(0, -1, 0), z_dir=(-1, 0, 0))):
        with Locations((-15.95, 1.25)):
            Rectangle(F14_W, F14_H)
    extrude(amount=F15_DEPTH)


solid = f1.part
